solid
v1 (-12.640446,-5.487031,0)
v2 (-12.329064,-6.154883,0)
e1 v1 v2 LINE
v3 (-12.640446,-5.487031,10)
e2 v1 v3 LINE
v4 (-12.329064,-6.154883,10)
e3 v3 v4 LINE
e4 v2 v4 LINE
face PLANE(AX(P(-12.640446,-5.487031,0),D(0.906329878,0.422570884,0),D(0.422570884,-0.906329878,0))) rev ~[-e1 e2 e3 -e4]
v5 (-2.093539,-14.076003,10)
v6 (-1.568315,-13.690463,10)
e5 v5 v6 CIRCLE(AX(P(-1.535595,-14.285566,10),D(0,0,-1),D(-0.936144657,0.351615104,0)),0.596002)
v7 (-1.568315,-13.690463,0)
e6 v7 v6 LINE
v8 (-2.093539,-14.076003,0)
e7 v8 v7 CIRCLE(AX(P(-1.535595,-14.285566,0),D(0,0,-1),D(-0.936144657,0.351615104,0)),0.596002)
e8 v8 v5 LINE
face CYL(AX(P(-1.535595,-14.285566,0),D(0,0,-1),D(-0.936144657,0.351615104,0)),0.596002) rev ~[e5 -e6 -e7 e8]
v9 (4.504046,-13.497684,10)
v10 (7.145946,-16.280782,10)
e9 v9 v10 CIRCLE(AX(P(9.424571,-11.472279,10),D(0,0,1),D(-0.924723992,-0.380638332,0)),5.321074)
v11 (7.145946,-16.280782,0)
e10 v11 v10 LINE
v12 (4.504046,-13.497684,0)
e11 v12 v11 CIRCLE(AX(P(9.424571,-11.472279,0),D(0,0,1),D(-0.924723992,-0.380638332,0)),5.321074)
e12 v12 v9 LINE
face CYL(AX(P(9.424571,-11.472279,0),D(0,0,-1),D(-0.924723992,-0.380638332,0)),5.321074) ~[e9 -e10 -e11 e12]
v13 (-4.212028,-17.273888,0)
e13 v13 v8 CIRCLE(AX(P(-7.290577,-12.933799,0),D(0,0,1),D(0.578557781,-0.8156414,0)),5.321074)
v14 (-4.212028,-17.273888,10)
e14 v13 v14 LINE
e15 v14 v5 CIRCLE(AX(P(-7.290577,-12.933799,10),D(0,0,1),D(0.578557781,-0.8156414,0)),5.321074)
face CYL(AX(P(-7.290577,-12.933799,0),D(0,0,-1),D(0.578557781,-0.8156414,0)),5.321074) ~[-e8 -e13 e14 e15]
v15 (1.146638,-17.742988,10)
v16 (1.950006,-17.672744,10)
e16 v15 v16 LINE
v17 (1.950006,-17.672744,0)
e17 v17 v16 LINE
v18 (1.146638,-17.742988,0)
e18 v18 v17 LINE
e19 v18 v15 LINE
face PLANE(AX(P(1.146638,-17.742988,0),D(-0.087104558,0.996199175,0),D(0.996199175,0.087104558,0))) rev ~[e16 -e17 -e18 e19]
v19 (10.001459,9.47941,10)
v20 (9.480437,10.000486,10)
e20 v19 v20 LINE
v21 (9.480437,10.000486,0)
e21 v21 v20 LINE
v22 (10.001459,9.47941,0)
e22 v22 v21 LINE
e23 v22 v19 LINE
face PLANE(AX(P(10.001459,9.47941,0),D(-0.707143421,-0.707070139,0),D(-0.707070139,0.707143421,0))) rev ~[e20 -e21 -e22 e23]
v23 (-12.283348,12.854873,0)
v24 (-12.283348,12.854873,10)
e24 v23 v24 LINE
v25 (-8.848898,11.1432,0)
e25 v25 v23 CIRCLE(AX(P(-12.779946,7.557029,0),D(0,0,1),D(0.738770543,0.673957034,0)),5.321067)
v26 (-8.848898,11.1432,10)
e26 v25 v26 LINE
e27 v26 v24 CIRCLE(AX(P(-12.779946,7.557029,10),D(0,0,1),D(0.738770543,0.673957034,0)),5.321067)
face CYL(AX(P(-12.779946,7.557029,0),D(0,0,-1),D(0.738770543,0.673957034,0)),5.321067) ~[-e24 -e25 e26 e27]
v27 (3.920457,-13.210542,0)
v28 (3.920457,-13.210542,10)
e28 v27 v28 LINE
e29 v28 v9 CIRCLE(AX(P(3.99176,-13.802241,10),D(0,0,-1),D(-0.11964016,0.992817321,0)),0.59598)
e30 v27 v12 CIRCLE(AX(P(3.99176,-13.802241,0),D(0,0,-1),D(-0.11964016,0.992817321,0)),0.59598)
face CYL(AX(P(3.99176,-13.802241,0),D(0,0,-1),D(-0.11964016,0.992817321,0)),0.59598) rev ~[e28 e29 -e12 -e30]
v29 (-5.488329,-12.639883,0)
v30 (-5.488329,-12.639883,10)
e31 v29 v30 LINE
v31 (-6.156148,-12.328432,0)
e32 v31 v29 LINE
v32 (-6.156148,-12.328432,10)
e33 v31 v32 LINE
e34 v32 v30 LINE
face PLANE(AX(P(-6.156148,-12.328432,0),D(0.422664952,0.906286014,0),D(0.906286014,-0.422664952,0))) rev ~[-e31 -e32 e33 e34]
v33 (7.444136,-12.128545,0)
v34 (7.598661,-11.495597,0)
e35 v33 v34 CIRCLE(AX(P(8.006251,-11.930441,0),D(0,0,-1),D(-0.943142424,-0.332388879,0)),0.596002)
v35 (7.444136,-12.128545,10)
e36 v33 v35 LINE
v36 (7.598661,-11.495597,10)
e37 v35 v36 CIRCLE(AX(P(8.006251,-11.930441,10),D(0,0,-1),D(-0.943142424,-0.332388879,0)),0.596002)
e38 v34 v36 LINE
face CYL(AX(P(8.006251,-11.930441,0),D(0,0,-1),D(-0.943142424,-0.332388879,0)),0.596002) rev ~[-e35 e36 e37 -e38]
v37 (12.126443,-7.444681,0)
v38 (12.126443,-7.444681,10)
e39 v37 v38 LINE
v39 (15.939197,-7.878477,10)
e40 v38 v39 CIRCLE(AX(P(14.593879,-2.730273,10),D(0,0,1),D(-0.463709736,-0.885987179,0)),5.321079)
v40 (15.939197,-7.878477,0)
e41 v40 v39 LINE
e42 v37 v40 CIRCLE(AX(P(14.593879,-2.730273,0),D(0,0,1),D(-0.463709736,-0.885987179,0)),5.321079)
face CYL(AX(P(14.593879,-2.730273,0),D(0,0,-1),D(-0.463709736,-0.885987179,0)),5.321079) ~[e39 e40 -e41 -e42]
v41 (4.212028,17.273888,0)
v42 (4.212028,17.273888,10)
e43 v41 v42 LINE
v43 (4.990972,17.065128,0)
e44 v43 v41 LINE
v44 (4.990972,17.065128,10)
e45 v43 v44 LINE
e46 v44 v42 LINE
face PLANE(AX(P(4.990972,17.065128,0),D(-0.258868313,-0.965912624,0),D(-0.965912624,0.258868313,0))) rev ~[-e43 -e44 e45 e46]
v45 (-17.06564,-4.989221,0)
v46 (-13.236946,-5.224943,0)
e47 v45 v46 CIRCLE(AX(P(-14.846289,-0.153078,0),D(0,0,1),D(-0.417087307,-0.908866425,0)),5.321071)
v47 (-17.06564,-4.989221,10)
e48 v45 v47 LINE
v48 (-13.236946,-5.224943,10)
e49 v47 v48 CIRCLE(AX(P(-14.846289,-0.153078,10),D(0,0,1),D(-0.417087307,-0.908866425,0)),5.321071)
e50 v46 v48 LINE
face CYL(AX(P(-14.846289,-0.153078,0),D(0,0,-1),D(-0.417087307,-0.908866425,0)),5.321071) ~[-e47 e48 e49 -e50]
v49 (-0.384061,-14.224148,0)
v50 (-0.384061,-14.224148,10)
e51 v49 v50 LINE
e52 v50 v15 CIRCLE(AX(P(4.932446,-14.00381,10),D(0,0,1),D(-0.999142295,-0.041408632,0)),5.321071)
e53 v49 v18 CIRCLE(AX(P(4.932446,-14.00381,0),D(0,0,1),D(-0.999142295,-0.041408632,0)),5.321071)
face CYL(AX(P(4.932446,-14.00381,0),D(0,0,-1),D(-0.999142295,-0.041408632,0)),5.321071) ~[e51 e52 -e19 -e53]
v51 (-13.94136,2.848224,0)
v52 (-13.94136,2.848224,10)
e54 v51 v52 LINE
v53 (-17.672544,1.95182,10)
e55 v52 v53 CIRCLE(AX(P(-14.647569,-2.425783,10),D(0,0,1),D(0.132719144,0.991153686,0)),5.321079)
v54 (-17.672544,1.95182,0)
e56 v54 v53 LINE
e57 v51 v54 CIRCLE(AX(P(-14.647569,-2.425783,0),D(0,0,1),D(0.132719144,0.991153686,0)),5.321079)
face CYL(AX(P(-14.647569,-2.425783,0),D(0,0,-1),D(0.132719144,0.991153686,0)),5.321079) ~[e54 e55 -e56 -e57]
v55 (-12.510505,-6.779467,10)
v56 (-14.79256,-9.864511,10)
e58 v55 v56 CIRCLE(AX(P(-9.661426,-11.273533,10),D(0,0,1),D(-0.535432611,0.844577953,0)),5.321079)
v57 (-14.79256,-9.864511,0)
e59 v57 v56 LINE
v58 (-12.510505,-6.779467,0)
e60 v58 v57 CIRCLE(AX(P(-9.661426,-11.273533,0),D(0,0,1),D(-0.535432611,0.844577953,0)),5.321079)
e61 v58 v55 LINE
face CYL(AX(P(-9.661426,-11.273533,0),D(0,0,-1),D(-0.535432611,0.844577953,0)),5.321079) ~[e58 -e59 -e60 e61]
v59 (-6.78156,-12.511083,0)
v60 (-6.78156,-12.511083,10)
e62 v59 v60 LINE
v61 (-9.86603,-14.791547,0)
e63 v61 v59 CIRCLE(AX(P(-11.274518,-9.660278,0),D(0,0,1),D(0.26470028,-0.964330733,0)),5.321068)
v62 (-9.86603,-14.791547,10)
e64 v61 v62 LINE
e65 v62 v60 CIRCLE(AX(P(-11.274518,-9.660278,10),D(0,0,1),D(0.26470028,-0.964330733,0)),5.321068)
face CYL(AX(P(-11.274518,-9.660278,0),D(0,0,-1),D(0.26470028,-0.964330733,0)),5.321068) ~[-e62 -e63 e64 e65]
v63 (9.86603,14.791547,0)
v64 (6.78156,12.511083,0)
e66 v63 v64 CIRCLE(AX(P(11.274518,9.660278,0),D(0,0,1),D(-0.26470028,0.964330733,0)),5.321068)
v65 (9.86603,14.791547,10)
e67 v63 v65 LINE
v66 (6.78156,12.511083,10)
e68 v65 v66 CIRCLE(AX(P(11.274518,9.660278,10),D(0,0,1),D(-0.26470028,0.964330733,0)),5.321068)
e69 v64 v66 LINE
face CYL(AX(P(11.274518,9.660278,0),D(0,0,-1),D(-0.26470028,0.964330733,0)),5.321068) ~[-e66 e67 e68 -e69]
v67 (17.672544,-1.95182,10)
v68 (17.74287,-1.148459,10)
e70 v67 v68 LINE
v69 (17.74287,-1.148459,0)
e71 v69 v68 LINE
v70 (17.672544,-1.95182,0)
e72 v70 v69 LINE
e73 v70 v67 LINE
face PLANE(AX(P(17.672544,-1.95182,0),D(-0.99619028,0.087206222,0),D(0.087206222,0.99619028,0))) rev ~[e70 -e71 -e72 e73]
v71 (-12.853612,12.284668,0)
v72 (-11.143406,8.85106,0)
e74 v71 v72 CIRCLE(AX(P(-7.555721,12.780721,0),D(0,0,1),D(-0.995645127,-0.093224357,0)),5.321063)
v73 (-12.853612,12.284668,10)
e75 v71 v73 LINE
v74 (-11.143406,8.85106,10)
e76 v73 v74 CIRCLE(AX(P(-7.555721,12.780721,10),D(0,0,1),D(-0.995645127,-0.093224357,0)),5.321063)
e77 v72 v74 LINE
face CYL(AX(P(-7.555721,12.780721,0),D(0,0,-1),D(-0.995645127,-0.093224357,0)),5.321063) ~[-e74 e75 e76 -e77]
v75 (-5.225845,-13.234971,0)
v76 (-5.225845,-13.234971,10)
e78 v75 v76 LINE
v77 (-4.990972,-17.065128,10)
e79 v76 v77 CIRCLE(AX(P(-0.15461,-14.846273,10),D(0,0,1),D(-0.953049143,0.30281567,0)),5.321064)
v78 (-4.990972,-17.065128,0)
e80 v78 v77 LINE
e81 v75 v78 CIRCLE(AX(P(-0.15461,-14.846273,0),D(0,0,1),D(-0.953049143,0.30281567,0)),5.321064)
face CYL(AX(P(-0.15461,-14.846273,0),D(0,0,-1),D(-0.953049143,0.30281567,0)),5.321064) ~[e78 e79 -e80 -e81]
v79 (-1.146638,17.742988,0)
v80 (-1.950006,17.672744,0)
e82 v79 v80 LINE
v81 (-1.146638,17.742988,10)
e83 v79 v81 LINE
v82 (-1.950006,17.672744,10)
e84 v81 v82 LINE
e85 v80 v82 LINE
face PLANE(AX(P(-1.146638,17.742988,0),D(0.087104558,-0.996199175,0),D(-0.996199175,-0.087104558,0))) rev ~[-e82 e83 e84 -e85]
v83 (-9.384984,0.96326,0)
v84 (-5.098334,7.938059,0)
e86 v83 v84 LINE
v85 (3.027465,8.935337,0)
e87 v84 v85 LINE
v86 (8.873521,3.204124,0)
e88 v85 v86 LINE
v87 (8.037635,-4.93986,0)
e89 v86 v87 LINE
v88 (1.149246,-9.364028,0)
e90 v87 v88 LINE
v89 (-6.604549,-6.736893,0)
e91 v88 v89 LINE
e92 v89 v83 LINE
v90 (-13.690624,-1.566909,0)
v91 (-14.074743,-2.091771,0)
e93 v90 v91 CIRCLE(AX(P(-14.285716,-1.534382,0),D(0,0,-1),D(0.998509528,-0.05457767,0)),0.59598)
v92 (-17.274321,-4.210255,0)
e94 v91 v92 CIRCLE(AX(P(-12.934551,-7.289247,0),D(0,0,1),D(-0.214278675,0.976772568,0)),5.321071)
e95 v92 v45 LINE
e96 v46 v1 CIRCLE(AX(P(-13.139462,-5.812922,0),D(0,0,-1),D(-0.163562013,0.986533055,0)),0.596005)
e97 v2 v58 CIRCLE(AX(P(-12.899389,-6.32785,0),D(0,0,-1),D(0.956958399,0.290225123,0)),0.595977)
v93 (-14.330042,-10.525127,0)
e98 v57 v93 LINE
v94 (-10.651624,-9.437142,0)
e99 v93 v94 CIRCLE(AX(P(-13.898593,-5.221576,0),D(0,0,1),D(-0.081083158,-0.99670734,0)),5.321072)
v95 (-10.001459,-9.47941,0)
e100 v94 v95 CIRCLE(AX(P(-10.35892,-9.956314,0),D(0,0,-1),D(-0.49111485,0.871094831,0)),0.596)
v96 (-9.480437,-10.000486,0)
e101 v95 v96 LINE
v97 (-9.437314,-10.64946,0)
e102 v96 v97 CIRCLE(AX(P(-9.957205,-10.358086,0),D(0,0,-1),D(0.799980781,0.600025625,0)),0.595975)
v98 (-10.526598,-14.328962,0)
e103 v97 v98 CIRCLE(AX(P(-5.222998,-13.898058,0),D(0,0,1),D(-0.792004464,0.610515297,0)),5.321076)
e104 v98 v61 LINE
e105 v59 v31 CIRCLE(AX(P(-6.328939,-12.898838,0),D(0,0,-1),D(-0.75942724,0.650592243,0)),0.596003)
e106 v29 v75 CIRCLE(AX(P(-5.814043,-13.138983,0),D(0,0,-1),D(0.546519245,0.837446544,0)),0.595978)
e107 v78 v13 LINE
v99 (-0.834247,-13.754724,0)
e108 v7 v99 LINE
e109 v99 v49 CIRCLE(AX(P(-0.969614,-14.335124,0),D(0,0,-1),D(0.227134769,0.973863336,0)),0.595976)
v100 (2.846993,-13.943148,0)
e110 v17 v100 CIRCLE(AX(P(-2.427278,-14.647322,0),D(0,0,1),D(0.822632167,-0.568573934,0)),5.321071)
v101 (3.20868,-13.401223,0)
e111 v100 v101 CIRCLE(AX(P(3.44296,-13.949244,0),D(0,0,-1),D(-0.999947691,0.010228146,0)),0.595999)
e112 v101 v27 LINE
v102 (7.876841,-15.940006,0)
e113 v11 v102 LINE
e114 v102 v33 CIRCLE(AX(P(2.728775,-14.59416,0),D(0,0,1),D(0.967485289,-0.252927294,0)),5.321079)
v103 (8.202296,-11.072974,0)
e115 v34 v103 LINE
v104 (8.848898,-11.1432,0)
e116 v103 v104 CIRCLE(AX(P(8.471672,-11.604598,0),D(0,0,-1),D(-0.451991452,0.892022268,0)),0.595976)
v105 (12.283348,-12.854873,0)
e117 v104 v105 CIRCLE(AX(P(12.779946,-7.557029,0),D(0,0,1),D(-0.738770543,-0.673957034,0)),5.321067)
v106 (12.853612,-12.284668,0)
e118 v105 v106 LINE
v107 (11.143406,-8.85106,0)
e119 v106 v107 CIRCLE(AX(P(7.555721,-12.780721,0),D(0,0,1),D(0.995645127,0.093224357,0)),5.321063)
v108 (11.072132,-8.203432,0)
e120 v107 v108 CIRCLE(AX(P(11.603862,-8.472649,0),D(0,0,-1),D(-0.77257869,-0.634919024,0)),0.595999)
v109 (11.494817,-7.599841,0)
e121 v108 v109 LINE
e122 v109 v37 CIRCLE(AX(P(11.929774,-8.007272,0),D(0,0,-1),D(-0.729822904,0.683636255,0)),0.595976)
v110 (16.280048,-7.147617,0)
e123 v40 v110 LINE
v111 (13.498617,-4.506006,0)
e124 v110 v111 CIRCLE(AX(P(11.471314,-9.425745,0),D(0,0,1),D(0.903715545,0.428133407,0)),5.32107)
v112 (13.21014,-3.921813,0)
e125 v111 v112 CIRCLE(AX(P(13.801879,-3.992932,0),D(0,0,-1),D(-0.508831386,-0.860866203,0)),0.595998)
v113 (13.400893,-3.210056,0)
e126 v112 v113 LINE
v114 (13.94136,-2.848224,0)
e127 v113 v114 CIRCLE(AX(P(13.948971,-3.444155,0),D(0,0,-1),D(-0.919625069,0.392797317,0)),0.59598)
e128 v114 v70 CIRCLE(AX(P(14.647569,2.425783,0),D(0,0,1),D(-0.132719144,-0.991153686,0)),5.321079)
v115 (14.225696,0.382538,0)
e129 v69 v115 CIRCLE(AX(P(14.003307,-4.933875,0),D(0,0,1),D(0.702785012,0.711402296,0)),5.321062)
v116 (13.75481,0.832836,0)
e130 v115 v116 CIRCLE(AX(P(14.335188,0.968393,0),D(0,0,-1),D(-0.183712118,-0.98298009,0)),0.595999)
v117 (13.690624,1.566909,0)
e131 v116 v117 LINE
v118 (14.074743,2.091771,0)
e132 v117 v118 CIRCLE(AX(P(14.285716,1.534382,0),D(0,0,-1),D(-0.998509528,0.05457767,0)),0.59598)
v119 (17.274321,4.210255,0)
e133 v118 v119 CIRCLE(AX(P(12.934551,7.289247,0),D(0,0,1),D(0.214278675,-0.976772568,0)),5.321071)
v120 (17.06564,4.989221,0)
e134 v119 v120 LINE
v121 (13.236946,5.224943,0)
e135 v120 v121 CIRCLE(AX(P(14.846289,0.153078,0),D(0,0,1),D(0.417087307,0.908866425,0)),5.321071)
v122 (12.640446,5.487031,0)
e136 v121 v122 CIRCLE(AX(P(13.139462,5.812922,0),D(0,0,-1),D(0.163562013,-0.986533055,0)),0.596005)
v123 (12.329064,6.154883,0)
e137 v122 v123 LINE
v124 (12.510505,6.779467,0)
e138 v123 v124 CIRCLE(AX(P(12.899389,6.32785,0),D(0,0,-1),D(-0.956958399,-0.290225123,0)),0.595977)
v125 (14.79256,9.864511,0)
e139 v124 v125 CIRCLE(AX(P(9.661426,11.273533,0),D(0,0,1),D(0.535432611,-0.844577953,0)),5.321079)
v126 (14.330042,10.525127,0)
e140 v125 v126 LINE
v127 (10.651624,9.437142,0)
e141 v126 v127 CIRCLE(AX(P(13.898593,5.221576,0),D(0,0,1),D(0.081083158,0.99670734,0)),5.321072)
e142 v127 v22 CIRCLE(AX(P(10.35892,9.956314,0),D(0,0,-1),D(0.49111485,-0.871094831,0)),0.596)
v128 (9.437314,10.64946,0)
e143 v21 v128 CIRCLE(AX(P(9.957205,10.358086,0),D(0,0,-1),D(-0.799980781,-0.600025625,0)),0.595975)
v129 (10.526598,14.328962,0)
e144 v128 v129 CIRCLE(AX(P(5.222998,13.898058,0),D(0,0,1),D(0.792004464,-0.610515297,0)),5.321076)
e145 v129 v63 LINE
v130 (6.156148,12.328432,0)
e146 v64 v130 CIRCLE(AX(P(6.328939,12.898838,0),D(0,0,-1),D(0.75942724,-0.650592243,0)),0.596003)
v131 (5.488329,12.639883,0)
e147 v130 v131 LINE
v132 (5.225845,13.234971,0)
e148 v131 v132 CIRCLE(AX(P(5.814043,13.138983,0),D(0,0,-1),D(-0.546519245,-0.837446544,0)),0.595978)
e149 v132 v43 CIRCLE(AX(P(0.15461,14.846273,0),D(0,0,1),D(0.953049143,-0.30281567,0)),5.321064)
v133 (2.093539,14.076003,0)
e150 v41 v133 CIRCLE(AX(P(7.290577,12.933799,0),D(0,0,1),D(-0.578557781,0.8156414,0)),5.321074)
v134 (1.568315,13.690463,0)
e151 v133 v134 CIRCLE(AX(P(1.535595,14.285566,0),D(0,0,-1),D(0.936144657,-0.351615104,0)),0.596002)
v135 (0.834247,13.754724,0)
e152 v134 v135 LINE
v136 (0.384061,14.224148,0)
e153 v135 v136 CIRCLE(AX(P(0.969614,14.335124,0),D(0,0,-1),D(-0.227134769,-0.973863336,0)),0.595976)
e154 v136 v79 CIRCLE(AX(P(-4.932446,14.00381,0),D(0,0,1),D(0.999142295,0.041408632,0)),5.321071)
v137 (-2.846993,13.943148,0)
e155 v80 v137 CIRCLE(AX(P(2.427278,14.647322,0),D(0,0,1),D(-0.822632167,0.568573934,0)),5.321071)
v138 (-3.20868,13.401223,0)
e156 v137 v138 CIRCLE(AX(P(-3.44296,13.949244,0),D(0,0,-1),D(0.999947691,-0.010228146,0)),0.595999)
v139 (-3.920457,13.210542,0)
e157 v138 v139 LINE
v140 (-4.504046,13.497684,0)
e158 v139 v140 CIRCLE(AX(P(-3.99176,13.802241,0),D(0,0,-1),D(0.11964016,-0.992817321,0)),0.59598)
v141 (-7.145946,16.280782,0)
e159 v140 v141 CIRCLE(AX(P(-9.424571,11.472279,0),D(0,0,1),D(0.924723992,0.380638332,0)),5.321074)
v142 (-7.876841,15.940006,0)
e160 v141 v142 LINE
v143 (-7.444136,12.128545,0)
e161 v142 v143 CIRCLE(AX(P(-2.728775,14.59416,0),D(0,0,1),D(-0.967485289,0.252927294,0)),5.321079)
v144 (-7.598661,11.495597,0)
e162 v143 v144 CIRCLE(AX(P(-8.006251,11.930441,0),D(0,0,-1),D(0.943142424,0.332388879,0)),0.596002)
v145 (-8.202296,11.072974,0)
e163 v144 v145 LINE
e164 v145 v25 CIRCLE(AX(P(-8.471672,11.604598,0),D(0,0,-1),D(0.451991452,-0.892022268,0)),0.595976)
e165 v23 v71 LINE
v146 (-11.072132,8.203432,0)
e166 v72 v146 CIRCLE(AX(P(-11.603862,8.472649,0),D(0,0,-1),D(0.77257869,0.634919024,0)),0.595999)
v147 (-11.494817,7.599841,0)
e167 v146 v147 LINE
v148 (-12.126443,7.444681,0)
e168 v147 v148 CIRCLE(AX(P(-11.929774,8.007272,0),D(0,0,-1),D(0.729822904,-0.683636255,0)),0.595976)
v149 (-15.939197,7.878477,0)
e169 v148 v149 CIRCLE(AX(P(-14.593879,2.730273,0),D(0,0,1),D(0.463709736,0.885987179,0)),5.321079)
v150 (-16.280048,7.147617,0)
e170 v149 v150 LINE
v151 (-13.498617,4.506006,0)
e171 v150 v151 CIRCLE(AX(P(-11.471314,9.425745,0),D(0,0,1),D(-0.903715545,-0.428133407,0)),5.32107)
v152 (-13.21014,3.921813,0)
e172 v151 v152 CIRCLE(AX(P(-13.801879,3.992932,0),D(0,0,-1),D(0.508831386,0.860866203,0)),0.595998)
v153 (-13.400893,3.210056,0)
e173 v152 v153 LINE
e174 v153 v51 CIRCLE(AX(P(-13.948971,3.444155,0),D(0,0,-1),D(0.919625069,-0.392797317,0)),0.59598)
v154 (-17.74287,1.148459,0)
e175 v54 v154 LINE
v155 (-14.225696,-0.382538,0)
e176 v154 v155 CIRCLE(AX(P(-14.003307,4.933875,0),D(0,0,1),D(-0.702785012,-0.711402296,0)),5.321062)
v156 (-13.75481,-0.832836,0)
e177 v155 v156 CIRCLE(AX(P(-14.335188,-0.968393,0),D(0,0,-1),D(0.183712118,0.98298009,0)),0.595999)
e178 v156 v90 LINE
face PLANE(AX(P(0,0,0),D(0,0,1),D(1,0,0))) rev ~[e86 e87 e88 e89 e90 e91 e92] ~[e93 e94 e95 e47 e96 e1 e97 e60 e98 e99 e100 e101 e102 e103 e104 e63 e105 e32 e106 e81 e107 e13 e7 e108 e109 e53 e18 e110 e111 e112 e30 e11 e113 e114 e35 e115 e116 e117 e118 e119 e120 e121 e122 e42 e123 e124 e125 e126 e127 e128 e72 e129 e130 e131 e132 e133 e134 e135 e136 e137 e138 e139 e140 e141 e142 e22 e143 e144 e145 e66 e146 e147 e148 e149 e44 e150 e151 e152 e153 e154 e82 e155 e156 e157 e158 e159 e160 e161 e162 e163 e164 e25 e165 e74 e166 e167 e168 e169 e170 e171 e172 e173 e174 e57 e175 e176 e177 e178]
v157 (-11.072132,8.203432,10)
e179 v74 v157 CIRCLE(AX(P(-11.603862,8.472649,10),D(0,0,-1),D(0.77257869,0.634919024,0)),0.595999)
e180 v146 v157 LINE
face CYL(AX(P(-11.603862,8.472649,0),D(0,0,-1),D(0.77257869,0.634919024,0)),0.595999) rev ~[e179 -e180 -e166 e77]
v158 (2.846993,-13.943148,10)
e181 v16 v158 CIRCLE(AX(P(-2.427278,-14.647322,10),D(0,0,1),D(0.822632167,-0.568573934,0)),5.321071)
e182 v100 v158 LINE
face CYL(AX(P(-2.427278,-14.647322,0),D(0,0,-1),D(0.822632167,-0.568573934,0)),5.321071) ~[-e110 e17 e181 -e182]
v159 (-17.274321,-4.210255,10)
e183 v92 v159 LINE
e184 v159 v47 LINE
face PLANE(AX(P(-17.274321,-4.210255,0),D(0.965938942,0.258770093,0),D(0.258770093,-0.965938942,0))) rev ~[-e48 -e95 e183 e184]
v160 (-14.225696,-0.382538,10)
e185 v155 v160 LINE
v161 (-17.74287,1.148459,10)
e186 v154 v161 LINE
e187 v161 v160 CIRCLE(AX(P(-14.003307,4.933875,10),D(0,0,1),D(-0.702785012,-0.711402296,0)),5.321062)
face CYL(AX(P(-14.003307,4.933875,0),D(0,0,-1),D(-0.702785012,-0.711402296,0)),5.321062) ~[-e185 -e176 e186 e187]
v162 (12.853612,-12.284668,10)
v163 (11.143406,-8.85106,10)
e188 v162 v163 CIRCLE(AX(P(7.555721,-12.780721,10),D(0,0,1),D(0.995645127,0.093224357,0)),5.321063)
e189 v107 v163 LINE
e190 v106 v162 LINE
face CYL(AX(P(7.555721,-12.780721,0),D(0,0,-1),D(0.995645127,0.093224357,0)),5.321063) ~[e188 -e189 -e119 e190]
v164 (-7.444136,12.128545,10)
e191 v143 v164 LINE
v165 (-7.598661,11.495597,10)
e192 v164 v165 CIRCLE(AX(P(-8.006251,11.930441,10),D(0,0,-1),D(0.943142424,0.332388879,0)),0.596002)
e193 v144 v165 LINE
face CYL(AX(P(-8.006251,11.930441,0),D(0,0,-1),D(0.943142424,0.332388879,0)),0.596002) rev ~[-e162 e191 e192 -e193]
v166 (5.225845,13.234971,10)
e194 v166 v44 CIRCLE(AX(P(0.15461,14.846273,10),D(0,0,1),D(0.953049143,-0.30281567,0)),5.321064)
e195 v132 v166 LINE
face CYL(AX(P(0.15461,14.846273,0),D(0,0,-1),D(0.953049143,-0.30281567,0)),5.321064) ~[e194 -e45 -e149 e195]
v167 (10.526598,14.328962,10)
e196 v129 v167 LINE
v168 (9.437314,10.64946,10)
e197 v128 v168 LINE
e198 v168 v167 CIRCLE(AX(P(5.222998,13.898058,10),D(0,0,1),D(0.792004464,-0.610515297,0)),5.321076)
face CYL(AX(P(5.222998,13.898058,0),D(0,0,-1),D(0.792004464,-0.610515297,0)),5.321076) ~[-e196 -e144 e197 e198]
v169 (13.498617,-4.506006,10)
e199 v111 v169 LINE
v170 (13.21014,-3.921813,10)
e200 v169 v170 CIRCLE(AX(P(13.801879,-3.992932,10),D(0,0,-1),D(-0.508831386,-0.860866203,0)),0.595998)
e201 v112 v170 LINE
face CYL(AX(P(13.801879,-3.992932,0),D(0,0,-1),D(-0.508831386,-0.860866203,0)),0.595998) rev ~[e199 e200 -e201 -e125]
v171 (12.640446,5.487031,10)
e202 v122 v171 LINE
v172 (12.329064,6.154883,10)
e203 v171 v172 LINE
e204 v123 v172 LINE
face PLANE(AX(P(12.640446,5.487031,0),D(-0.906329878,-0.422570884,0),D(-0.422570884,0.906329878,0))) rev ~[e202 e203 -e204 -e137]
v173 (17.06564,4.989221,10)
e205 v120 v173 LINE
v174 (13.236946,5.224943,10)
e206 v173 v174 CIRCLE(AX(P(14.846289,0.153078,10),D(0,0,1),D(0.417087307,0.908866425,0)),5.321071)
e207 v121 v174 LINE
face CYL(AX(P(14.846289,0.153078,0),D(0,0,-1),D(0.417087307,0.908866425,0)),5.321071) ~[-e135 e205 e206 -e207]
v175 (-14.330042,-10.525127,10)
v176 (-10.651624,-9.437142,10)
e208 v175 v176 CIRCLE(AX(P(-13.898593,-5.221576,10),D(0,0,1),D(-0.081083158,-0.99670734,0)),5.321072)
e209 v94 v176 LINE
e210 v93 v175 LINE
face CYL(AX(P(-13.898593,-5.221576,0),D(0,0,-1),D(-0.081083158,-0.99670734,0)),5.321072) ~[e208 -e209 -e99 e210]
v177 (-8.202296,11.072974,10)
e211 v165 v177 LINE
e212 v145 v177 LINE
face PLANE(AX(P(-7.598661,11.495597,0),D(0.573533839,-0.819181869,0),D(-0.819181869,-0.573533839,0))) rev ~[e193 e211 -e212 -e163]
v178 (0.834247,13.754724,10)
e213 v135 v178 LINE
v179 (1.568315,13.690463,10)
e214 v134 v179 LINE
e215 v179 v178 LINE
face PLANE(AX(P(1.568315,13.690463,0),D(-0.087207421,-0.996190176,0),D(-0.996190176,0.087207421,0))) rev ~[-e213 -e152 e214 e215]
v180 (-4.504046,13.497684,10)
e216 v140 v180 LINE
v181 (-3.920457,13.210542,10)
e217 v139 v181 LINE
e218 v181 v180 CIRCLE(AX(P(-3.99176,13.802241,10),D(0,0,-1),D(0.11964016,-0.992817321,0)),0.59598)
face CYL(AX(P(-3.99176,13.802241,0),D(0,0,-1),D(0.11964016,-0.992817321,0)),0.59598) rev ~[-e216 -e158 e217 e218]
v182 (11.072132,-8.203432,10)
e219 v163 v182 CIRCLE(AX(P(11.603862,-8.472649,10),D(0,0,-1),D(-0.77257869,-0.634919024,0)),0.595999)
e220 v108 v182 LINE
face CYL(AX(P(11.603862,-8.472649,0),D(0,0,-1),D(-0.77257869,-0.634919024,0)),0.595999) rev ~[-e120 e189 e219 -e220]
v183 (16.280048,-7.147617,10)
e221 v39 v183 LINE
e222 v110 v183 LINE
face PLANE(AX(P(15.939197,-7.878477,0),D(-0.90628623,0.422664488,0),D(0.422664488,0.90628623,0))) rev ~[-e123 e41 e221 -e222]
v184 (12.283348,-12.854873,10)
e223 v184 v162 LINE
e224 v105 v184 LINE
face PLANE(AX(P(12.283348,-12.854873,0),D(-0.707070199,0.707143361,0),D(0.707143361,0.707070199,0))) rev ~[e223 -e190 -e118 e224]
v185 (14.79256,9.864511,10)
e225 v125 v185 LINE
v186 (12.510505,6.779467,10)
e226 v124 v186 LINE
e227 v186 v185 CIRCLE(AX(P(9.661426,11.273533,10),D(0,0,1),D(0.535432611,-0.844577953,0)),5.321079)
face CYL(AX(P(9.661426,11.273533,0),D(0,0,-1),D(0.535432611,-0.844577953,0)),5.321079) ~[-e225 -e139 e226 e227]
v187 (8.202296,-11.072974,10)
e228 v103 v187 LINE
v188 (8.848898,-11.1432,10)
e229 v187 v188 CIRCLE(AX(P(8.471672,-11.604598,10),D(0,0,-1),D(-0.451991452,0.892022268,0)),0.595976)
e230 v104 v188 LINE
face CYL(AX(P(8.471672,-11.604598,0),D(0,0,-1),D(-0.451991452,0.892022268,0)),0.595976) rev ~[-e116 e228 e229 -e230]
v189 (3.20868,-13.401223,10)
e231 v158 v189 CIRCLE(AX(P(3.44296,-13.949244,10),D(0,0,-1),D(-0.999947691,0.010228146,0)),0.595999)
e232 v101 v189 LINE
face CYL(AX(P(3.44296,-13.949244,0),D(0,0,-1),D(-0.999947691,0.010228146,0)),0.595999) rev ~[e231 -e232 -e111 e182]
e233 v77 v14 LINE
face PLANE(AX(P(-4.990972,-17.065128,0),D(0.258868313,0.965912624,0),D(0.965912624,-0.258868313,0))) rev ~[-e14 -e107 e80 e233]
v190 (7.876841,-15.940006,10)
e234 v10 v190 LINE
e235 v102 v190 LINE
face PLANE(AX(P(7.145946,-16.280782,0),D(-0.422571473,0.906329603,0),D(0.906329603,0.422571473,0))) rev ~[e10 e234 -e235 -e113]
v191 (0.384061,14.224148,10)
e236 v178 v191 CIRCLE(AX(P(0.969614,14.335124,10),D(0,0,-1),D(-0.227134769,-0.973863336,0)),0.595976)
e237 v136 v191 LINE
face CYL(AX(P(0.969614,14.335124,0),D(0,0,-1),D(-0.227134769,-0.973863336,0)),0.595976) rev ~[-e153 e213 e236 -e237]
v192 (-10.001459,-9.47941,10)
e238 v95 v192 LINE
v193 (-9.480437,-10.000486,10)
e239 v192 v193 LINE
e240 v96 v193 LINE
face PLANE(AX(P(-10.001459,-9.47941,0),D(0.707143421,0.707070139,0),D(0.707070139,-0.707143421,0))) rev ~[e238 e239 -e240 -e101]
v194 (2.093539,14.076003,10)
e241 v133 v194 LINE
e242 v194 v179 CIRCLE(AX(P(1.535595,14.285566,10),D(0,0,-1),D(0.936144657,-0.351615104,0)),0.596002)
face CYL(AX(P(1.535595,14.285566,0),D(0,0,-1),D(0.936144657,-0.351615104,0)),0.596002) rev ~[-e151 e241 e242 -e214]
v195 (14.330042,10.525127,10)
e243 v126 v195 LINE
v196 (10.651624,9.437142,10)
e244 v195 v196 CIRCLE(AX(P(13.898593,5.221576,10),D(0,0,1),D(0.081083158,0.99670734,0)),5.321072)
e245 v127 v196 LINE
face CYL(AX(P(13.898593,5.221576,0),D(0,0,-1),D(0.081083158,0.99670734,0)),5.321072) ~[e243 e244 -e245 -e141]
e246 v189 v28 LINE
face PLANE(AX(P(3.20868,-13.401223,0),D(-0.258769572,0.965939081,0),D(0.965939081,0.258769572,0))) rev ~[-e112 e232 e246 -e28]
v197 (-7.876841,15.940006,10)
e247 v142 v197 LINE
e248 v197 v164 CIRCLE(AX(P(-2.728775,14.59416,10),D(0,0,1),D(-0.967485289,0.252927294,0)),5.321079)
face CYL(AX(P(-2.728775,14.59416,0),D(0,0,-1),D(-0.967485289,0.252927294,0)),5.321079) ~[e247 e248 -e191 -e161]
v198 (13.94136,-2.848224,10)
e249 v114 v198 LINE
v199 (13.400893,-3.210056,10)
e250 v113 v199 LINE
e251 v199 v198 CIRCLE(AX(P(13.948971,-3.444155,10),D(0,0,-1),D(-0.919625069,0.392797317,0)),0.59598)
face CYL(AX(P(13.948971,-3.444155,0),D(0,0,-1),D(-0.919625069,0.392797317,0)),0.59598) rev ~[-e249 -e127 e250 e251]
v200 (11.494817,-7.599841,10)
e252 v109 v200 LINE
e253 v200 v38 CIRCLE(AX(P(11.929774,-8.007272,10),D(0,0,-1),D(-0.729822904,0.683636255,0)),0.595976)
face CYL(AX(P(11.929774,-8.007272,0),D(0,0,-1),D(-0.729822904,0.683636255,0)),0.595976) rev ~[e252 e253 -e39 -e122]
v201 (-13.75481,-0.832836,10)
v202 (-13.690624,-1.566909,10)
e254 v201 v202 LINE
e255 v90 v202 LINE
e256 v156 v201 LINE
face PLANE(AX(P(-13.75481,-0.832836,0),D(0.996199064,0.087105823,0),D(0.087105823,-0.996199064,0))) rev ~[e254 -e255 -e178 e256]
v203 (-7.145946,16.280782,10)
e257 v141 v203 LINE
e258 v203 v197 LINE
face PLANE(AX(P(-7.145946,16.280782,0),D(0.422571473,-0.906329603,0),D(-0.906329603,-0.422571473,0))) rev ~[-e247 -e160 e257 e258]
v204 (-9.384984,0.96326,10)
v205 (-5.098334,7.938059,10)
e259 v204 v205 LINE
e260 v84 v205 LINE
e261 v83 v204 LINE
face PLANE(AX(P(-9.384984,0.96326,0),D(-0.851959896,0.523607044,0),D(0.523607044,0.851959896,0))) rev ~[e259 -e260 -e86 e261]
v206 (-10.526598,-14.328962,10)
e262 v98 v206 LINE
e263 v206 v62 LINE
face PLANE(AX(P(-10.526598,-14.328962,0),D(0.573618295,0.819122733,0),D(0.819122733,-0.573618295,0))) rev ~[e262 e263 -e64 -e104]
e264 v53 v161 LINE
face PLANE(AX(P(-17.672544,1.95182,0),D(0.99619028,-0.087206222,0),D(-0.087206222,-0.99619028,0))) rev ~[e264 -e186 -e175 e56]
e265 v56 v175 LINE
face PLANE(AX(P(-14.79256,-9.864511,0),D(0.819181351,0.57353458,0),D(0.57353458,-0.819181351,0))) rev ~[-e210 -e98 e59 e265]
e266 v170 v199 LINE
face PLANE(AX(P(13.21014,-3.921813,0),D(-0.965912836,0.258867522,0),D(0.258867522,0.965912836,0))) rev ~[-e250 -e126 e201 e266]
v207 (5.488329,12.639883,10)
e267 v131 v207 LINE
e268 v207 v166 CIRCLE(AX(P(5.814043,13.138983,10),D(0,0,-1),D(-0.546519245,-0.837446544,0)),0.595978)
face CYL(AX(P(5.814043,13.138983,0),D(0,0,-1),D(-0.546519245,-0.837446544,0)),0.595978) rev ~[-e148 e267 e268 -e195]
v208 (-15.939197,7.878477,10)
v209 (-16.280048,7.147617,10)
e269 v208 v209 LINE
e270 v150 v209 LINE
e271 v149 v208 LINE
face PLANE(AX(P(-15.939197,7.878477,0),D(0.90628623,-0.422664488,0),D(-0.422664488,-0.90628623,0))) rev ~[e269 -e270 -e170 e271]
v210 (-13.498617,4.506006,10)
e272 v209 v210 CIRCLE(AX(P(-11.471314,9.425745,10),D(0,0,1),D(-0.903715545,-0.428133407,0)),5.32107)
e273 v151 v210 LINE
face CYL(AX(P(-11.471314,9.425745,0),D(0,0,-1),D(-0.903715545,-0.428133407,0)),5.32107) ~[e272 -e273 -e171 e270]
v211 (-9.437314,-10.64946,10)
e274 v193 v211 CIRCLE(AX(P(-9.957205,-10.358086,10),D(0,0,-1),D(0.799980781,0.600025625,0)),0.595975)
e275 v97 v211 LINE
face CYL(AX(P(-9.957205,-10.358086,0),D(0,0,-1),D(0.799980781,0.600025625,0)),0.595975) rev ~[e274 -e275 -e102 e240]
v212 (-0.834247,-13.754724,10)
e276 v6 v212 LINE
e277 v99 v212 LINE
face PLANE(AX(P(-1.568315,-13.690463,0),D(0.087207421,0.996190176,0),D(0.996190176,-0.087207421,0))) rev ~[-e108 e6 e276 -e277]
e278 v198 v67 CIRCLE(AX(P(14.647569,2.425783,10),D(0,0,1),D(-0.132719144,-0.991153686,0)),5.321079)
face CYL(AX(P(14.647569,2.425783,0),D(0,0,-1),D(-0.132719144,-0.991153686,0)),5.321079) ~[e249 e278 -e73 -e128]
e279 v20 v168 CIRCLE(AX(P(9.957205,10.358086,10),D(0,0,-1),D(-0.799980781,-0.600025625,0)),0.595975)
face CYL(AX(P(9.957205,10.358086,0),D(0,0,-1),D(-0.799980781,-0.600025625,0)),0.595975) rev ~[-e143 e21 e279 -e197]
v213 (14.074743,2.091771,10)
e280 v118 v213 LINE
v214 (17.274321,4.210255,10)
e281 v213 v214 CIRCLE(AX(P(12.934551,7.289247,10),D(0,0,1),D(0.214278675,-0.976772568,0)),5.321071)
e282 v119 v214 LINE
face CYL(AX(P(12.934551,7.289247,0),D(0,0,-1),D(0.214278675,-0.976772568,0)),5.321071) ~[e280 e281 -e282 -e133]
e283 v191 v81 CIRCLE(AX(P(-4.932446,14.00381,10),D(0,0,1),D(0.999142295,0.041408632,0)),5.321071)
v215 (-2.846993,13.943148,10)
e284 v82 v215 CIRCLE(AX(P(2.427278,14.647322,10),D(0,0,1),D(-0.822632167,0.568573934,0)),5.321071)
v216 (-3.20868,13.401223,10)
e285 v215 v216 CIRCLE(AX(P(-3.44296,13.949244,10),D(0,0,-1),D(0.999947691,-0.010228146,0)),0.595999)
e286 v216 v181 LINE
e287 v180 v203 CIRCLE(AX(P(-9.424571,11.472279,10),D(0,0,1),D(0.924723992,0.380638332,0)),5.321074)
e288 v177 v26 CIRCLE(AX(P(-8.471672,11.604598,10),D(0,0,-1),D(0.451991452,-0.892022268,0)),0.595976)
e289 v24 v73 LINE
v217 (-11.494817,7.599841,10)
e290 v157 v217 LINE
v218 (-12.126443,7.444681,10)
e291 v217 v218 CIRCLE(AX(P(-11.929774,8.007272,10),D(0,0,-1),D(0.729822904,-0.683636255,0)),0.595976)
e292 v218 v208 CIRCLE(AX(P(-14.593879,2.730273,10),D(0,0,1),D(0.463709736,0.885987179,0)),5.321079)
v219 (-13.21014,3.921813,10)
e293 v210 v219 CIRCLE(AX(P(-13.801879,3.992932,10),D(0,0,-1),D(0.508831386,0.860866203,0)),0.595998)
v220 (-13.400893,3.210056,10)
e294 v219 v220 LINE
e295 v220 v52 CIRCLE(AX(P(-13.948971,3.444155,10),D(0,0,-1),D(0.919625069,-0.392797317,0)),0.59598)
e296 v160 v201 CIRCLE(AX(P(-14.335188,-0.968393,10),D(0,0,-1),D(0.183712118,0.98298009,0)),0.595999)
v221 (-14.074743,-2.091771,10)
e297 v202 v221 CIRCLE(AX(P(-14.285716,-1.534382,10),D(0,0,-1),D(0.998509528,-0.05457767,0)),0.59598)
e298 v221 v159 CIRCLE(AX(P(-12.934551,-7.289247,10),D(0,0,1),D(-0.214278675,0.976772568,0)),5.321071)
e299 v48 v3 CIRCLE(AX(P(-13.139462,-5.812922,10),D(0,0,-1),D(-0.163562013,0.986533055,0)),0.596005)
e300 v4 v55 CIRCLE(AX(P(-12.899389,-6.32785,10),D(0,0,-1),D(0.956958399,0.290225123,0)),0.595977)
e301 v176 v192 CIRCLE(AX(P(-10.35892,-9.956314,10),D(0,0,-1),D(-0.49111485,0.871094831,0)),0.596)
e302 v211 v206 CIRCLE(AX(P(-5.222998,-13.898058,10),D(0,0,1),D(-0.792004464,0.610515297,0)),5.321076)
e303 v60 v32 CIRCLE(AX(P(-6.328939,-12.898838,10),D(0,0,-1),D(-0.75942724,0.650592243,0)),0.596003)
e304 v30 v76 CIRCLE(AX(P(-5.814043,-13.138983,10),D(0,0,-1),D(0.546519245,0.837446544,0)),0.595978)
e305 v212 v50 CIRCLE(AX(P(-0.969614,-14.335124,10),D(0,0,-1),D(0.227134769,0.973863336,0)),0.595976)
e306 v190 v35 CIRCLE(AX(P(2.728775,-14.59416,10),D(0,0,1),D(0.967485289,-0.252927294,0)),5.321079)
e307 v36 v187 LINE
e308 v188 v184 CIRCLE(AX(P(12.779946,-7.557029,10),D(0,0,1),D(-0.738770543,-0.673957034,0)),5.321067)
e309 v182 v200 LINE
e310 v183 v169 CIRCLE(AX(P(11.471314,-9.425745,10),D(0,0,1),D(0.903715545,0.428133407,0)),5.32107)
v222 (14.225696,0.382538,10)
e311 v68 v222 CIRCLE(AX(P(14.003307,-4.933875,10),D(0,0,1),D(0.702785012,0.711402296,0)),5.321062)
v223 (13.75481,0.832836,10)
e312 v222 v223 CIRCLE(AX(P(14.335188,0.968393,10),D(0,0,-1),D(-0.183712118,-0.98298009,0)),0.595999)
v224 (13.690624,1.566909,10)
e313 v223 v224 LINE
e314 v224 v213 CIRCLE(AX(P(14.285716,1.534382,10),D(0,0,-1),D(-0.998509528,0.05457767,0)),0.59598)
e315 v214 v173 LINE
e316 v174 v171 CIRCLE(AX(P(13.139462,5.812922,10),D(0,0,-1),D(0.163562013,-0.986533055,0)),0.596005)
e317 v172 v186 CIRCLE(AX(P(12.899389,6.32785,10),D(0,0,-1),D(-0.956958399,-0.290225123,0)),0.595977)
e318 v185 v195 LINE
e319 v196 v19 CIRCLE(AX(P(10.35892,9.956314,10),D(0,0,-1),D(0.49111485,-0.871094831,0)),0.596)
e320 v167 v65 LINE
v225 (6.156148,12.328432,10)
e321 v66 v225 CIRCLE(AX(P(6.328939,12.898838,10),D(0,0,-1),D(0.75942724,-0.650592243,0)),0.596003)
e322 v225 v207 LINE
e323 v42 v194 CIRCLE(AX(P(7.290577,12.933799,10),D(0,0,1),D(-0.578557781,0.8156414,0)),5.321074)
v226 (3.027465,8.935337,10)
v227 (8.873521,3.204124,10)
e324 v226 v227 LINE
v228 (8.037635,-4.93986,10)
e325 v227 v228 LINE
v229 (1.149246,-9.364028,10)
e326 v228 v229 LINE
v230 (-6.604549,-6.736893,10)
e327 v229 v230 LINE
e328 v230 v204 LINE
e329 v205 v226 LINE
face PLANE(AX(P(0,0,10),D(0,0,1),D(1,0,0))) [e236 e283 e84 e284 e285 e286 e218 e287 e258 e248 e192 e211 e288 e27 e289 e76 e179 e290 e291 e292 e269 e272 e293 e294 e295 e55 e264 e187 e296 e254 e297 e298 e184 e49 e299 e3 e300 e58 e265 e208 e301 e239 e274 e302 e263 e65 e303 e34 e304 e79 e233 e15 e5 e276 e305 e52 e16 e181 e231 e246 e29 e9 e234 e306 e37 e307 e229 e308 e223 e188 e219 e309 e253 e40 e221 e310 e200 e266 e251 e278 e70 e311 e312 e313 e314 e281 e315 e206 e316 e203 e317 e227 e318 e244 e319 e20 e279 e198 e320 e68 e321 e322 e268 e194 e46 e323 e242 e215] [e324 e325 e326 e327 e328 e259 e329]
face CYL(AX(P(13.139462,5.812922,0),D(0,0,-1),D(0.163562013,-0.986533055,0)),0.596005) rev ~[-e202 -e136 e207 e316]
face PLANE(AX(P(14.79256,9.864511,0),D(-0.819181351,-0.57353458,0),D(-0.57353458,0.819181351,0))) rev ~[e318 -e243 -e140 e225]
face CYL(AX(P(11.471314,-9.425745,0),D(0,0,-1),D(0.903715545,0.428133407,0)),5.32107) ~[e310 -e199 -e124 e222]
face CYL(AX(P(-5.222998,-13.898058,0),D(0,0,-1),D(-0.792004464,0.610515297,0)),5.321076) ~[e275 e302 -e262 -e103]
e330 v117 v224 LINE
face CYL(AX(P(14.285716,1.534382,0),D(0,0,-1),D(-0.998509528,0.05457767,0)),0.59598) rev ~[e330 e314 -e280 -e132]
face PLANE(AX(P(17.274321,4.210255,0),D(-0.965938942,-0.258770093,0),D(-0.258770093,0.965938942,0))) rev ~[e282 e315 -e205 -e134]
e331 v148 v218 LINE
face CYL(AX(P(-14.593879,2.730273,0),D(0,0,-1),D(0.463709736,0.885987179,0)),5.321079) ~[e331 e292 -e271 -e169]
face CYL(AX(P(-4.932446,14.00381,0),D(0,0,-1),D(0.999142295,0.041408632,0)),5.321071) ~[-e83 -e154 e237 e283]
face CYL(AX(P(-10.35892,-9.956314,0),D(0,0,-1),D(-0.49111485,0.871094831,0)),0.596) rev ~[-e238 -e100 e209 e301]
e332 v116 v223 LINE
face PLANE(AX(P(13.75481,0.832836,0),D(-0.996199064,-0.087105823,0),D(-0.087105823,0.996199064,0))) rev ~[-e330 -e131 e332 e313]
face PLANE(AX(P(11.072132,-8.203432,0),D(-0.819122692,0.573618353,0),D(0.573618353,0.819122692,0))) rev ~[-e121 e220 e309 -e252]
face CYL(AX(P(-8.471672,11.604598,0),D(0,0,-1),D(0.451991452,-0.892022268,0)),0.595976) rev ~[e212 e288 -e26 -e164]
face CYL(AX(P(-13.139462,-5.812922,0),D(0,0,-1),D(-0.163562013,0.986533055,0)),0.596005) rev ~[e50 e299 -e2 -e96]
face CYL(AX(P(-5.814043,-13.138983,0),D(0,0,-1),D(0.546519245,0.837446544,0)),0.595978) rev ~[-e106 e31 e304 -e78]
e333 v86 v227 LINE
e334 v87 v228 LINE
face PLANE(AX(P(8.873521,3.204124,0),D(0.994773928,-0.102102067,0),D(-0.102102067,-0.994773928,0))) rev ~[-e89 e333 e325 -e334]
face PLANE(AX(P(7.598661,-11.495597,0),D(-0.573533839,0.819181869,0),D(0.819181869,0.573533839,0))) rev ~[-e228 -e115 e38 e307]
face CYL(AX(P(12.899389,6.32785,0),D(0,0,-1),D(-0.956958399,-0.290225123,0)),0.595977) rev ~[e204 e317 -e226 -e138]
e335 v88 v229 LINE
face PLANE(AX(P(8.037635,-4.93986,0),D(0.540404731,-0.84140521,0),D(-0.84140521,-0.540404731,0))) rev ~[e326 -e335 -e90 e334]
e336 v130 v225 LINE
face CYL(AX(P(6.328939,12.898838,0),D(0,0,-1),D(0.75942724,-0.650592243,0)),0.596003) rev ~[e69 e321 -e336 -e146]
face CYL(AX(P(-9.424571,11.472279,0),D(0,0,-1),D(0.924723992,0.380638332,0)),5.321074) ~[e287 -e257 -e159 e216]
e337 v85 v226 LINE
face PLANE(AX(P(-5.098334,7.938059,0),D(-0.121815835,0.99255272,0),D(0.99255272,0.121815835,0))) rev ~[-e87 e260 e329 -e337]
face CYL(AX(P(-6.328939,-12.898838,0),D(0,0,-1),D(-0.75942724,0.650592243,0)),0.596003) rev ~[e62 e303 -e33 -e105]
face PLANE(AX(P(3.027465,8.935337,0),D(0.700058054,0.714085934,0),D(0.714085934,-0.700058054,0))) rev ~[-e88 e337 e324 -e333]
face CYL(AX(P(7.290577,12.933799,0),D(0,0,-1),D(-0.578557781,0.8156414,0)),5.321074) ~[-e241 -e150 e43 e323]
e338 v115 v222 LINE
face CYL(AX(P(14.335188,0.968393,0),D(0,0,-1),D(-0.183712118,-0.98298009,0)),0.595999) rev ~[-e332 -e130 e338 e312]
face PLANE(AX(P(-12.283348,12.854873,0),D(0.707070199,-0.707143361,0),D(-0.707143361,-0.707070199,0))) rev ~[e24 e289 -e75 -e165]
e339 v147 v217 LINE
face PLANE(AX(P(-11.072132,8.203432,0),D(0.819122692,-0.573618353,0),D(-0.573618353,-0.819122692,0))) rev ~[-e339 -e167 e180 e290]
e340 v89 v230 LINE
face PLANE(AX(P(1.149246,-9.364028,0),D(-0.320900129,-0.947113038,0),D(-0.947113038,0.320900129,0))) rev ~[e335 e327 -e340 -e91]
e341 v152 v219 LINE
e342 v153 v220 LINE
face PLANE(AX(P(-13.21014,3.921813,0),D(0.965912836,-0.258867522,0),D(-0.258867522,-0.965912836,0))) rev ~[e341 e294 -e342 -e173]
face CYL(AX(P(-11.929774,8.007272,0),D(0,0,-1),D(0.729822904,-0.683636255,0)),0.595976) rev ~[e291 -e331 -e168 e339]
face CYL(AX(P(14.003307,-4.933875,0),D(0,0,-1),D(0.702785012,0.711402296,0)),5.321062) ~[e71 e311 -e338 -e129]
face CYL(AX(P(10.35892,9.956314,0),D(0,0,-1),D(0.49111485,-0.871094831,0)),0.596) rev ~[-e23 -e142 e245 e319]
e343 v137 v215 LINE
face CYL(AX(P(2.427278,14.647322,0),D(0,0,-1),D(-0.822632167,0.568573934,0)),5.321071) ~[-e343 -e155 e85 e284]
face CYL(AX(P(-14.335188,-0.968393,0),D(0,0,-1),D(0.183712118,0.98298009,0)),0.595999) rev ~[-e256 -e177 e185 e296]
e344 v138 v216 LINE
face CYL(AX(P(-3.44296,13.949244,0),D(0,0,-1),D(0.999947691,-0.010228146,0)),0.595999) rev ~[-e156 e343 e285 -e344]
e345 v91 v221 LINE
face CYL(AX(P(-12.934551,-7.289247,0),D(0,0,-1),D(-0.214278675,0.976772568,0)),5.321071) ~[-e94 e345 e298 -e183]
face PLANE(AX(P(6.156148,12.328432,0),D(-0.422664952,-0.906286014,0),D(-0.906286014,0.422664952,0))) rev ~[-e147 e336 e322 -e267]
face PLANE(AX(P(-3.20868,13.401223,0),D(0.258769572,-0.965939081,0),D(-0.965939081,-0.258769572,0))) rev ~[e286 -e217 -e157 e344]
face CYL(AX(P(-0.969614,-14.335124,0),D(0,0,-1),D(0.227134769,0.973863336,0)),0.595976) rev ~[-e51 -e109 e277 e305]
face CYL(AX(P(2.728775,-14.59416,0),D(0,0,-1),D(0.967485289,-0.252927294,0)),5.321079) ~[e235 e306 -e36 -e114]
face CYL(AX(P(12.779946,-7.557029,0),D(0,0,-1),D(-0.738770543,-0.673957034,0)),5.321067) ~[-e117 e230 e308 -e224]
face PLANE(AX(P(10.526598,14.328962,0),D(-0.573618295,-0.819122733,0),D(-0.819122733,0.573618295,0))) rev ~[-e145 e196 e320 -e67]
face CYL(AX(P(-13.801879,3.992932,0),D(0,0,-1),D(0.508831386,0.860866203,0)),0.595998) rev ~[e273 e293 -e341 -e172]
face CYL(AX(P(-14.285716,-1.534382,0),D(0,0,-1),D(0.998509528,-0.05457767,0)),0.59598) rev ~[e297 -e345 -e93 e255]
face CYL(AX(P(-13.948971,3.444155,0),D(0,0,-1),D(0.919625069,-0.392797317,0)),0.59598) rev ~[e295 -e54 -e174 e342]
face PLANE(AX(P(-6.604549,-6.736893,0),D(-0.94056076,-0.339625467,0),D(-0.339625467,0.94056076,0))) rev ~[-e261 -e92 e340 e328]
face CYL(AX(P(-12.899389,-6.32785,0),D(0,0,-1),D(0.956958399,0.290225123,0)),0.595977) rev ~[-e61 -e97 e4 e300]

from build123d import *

# Parameters (mm, degrees)
F1_DEPTH = 10


with BuildPart() as f1:
    # F0 (on Top) → F1 (new body)
    with BuildSketch(Plane.XY):
        with BuildLine():
            ThreePointArc((0.834247, 13.754724), (0.539473, 13.922611), (0.384061, 14.224148))
            ThreePointArc((0.384061, 14.224148), (-0.053041, 16.126356), (-1.146638, 17.742988))
            Line((-1.146638, 17.742988), (-1.950006, 17.672744))
            ThreePointArc((-1.950006, 17.672744), (-2.74627, 15.891587), (-2.846993, 13.943148))
            ThreePointArc((-2.846993, 13.943148), (-2.94723, 13.618388), (-3.20868, 13.401223))
            Line((-3.20868, 13.401223), (-3.920457, 13.210542))
            ThreePointArc((-3.920457, 13.210542), (-4.254874, 13.267486), (-4.504046, 13.497684))
            ThreePointArc((-4.504046, 13.497684), (-5.565381, 15.135677), (-7.145946, 16.280782))
            Line((-7.145946, 16.280782), (-7.876841, 15.940006))
            ThreePointArc((-7.876841, 15.940006), (-8.015892, 13.993927), (-7.444136, 12.128545))
            ThreePointArc((-7.444136, 12.128545), (-7.427254, 11.789086), (-7.598661, 11.495597))
            Line((-7.598661, 11.495597), (-8.202296, 11.072974))
            ThreePointArc((-8.202296, 11.072974), (-8.536021, 11.012106), (-8.848898, 11.1432))
            ThreePointArc((-8.848898, 11.1432), (-10.406453, 12.319412), (-12.283348, 12.854873))
            Line((-12.283348, 12.854873), (-12.853612, 12.284668))
            ThreePointArc((-12.853612, 12.284668), (-12.31868, 10.408393), (-11.143406, 8.85106))
            ThreePointArc((-11.143406, 8.85106), (-11.01144, 8.537847), (-11.072132, 8.203432))
            Line((-11.072132, 8.203432), (-11.494817, 7.599841))
            ThreePointArc((-11.494817, 7.599841), (-11.787598, 7.428503), (-12.126443, 7.444681))
            ThreePointArc((-12.126443, 7.444681), (-13.992354, 8.017243), (-15.939197, 7.878477))
            Line((-15.939197, 7.878477), (-16.280048, 7.147617))
            ThreePointArc((-16.280048, 7.147617), (-15.135653, 5.567454), (-13.498617, 4.506006))
            ThreePointArc((-13.498617, 4.506006), (-13.267485, 4.256818), (-13.21014, 3.921813))
            Line((-13.21014, 3.921813), (-13.400893, 3.210056))
            ThreePointArc((-13.400893, 3.210056), (-13.617417, 2.948914), (-13.94136, 2.848224))
            ThreePointArc((-13.94136, 2.848224), (-15.890571, 2.748077), (-17.672544, 1.95182))
            Line((-17.672544, 1.95182), (-17.74287, 1.148459))
            ThreePointArc((-17.74287, 1.148459), (-16.127043, 0.054997), (-14.225696, -0.382538))
            ThreePointArc((-14.225696, -0.382538), (-13.923275, -0.537647), (-13.75481, -0.832836))
            Line((-13.75481, -0.832836), (-13.690624, -1.566909))
            ThreePointArc((-13.690624, -1.566909), (-13.804774, -1.886358), (-14.074743, -2.091771))
            ThreePointArc((-14.074743, -2.091771), (-15.87215, -2.852547), (-17.274321, -4.210255))
            Line((-17.274321, -4.210255), (-17.06564, -4.989221))
            ThreePointArc((-17.06564, -4.989221), (-15.173273, -5.464093), (-13.236946, -5.224943))
            ThreePointArc((-13.236946, -5.224943), (-12.899713, -5.267264), (-12.640446, -5.487031))
            Line((-12.640446, -5.487031), (-12.329064, -6.154883))
            ThreePointArc((-12.329064, -6.154883), (-12.327072, -6.494108), (-12.510505, -6.779467))
            ThreePointArc((-12.510505, -6.779467), (-13.939314, -8.109113), (-14.79256, -9.864511))
            Line((-14.79256, -9.864511), (-14.330042, -10.525127))
            ThreePointArc((-14.330042, -10.525127), (-12.389383, -10.324133), (-10.651624, -9.437142))
            ThreePointArc((-10.651624, -9.437142), (-10.320255, -9.36157), (-10.001459, -9.47941))
            Line((-10.001459, -9.47941), (-9.480437, -10.000486))
            ThreePointArc((-9.480437, -10.000486), (-9.362542, -10.318572), (-9.437314, -10.64946))
            ThreePointArc((-9.437314, -10.64946), (-10.32519, -12.387599), (-10.526598, -14.328962))
            Line((-10.526598, -14.328962), (-9.86603, -14.791547))
            ThreePointArc((-9.86603, -14.791547), (-8.11115, -13.93893), (-6.78156, -12.511083))
            ThreePointArc((-6.78156, -12.511083), (-6.496022, -12.326734), (-6.156148, -12.328432))
            Line((-6.156148, -12.328432), (-5.488329, -12.639883))
            ThreePointArc((-5.488329, -12.639883), (-5.268753, -12.898464), (-5.225845, -13.234971))
            ThreePointArc((-5.225845, -13.234971), (-5.465697, -15.171959), (-4.990972, -17.065128))
            Line((-4.990972, -17.065128), (-4.212028, -17.273888))
            ThreePointArc((-4.212028, -17.273888), (-2.854593, -15.872486), (-2.093539, -14.076003))
            ThreePointArc((-2.093539, -14.076003), (-1.888272, -13.805111), (-1.568315, -13.690463))
            Line((-1.568315, -13.690463), (-0.834247, -13.754724))
            ThreePointArc((-0.834247, -13.754724), (-0.539473, -13.922611), (-0.384061, -14.224148))
            ThreePointArc((-0.384061, -14.224148), (0.053041, -16.126356), (1.146638, -17.742988))
            Line((1.146638, -17.742988), (1.950006, -17.672744))
            ThreePointArc((1.950006, -17.672744), (2.74627, -15.891587), (2.846993, -13.943148))
            ThreePointArc((2.846993, -13.943148), (2.94723, -13.618388), (3.20868, -13.401223))
            Line((3.20868, -13.401223), (3.920457, -13.210542))
            ThreePointArc((3.920457, -13.210542), (4.254874, -13.267486), (4.504046, -13.497684))
            ThreePointArc((4.504046, -13.497684), (5.565381, -15.135677), (7.145946, -16.280782))
            Line((7.145946, -16.280782), (7.876841, -15.940006))
            ThreePointArc((7.876841, -15.940006), (8.015892, -13.993927), (7.444136, -12.128545))
            ThreePointArc((7.444136, -12.128545), (7.427254, -11.789086), (7.598661, -11.495597))
            Line((7.598661, -11.495597), (8.202296, -11.072974))
            ThreePointArc((8.202296, -11.072974), (8.536021, -11.012106), (8.848898, -11.1432))
            ThreePointArc((8.848898, -11.1432), (10.406453, -12.319412), (12.283348, -12.854873))
            Line((12.283348, -12.854873), (12.853612, -12.284668))
            ThreePointArc((12.853612, -12.284668), (12.31868, -10.408393), (11.143406, -8.85106))
            ThreePointArc((11.143406, -8.85106), (11.01144, -8.537847), (11.072132, -8.203432))
            Line((11.072132, -8.203432), (11.494817, -7.599841))
            ThreePointArc((11.494817, -7.599841), (11.787598, -7.428503), (12.126443, -7.444681))
            ThreePointArc((12.126443, -7.444681), (13.992354, -8.017243), (15.939197, -7.878477))
            Line((15.939197, -7.878477), (16.280048, -7.147617))
            ThreePointArc((16.280048, -7.147617), (15.135653, -5.567454), (13.498617, -4.506006))
            ThreePointArc((13.498617, -4.506006), (13.267485, -4.256818), (13.21014, -3.921813))
            Line((13.21014, -3.921813), (13.400893, -3.210056))
            ThreePointArc((13.400893, -3.210056), (13.617417, -2.948914), (13.94136, -2.848224))
            ThreePointArc((13.94136, -2.848224), (15.890571, -2.748077), (17.672544, -1.95182))
            Line((17.672544, -1.95182), (17.74287, -1.148459))
            ThreePointArc((17.74287, -1.148459), (16.127043, -0.054997), (14.225696, 0.382538))
            ThreePointArc((14.225696, 0.382538), (13.923275, 0.537647), (13.75481, 0.832836))
            Line((13.75481, 0.832836), (13.690624, 1.566909))
            ThreePointArc((13.690624, 1.566909), (13.804774, 1.886358), (14.074743, 2.091771))
            ThreePointArc((14.074743, 2.091771), (15.87215, 2.852547), (17.274321, 4.210255))
            Line((17.274321, 4.210255), (17.06564, 4.989221))
            ThreePointArc((17.06564, 4.989221), (15.173273, 5.464093), (13.236946, 5.224943))
            ThreePointArc((13.236946, 5.224943), (12.899713, 5.267264), (12.640446, 5.487031))
            Line((12.640446, 5.487031), (12.329064, 6.154883))
            ThreePointArc((12.329064, 6.154883), (12.327072, 6.494108), (12.510505, 6.779467))
            ThreePointArc((12.510505, 6.779467), (13.939314, 8.109113), (14.79256, 9.864511))
            Line((14.79256, 9.864511), (14.330042, 10.525127))
            ThreePointArc((14.330042, 10.525127), (12.389383, 10.324133), (10.651624, 9.437142))
            ThreePointArc((10.651624, 9.437142), (10.320255, 9.36157), (10.001459, 9.47941))
            Line((10.001459, 9.47941), (9.480437, 10.000486))
            ThreePointArc((9.480437, 10.000486), (9.362542, 10.318572), (9.437314, 10.64946))
            ThreePointArc((9.437314, 10.64946), (10.32519, 12.387599), (10.526598, 14.328962))
            Line((10.526598, 14.328962), (9.86603, 14.791547))
            ThreePointArc((9.86603, 14.791547), (8.11115, 13.93893), (6.78156, 12.511083))
            ThreePointArc((6.78156, 12.511083), (6.496022, 12.326734), (6.156148, 12.328432))
            Line((6.156148, 12.328432), (5.488329, 12.639883))
            ThreePointArc((5.488329, 12.639883), (5.268753, 12.898464), (5.225845, 13.234971))
            ThreePointArc((5.225845, 13.234971), (5.465697, 15.171959), (4.990972, 17.065128))
            Line((4.990972, 17.065128), (4.212028, 17.273888))
            ThreePointArc((4.212028, 17.273888), (2.854593, 15.872486), (2.093539, 14.076003))
            ThreePointArc((2.093539, 14.076003), (1.888272, 13.805111), (1.568315, 13.690463))
            Line((1.568315, 13.690463), (0.834247, 13.754724))
        make_face()
        Polygon((8.873521, 3.204124), (8.037635, -4.93986), (1.149246, -9.364028), (-6.604549, -6.736893), (-9.384984, 0.96326), (-5.098334, 7.938059), (3.027465, 8.935337), align=None, mode=Mode.SUBTRACT)
    extrude(amount=F1_DEPTH)


solid = f1.part
